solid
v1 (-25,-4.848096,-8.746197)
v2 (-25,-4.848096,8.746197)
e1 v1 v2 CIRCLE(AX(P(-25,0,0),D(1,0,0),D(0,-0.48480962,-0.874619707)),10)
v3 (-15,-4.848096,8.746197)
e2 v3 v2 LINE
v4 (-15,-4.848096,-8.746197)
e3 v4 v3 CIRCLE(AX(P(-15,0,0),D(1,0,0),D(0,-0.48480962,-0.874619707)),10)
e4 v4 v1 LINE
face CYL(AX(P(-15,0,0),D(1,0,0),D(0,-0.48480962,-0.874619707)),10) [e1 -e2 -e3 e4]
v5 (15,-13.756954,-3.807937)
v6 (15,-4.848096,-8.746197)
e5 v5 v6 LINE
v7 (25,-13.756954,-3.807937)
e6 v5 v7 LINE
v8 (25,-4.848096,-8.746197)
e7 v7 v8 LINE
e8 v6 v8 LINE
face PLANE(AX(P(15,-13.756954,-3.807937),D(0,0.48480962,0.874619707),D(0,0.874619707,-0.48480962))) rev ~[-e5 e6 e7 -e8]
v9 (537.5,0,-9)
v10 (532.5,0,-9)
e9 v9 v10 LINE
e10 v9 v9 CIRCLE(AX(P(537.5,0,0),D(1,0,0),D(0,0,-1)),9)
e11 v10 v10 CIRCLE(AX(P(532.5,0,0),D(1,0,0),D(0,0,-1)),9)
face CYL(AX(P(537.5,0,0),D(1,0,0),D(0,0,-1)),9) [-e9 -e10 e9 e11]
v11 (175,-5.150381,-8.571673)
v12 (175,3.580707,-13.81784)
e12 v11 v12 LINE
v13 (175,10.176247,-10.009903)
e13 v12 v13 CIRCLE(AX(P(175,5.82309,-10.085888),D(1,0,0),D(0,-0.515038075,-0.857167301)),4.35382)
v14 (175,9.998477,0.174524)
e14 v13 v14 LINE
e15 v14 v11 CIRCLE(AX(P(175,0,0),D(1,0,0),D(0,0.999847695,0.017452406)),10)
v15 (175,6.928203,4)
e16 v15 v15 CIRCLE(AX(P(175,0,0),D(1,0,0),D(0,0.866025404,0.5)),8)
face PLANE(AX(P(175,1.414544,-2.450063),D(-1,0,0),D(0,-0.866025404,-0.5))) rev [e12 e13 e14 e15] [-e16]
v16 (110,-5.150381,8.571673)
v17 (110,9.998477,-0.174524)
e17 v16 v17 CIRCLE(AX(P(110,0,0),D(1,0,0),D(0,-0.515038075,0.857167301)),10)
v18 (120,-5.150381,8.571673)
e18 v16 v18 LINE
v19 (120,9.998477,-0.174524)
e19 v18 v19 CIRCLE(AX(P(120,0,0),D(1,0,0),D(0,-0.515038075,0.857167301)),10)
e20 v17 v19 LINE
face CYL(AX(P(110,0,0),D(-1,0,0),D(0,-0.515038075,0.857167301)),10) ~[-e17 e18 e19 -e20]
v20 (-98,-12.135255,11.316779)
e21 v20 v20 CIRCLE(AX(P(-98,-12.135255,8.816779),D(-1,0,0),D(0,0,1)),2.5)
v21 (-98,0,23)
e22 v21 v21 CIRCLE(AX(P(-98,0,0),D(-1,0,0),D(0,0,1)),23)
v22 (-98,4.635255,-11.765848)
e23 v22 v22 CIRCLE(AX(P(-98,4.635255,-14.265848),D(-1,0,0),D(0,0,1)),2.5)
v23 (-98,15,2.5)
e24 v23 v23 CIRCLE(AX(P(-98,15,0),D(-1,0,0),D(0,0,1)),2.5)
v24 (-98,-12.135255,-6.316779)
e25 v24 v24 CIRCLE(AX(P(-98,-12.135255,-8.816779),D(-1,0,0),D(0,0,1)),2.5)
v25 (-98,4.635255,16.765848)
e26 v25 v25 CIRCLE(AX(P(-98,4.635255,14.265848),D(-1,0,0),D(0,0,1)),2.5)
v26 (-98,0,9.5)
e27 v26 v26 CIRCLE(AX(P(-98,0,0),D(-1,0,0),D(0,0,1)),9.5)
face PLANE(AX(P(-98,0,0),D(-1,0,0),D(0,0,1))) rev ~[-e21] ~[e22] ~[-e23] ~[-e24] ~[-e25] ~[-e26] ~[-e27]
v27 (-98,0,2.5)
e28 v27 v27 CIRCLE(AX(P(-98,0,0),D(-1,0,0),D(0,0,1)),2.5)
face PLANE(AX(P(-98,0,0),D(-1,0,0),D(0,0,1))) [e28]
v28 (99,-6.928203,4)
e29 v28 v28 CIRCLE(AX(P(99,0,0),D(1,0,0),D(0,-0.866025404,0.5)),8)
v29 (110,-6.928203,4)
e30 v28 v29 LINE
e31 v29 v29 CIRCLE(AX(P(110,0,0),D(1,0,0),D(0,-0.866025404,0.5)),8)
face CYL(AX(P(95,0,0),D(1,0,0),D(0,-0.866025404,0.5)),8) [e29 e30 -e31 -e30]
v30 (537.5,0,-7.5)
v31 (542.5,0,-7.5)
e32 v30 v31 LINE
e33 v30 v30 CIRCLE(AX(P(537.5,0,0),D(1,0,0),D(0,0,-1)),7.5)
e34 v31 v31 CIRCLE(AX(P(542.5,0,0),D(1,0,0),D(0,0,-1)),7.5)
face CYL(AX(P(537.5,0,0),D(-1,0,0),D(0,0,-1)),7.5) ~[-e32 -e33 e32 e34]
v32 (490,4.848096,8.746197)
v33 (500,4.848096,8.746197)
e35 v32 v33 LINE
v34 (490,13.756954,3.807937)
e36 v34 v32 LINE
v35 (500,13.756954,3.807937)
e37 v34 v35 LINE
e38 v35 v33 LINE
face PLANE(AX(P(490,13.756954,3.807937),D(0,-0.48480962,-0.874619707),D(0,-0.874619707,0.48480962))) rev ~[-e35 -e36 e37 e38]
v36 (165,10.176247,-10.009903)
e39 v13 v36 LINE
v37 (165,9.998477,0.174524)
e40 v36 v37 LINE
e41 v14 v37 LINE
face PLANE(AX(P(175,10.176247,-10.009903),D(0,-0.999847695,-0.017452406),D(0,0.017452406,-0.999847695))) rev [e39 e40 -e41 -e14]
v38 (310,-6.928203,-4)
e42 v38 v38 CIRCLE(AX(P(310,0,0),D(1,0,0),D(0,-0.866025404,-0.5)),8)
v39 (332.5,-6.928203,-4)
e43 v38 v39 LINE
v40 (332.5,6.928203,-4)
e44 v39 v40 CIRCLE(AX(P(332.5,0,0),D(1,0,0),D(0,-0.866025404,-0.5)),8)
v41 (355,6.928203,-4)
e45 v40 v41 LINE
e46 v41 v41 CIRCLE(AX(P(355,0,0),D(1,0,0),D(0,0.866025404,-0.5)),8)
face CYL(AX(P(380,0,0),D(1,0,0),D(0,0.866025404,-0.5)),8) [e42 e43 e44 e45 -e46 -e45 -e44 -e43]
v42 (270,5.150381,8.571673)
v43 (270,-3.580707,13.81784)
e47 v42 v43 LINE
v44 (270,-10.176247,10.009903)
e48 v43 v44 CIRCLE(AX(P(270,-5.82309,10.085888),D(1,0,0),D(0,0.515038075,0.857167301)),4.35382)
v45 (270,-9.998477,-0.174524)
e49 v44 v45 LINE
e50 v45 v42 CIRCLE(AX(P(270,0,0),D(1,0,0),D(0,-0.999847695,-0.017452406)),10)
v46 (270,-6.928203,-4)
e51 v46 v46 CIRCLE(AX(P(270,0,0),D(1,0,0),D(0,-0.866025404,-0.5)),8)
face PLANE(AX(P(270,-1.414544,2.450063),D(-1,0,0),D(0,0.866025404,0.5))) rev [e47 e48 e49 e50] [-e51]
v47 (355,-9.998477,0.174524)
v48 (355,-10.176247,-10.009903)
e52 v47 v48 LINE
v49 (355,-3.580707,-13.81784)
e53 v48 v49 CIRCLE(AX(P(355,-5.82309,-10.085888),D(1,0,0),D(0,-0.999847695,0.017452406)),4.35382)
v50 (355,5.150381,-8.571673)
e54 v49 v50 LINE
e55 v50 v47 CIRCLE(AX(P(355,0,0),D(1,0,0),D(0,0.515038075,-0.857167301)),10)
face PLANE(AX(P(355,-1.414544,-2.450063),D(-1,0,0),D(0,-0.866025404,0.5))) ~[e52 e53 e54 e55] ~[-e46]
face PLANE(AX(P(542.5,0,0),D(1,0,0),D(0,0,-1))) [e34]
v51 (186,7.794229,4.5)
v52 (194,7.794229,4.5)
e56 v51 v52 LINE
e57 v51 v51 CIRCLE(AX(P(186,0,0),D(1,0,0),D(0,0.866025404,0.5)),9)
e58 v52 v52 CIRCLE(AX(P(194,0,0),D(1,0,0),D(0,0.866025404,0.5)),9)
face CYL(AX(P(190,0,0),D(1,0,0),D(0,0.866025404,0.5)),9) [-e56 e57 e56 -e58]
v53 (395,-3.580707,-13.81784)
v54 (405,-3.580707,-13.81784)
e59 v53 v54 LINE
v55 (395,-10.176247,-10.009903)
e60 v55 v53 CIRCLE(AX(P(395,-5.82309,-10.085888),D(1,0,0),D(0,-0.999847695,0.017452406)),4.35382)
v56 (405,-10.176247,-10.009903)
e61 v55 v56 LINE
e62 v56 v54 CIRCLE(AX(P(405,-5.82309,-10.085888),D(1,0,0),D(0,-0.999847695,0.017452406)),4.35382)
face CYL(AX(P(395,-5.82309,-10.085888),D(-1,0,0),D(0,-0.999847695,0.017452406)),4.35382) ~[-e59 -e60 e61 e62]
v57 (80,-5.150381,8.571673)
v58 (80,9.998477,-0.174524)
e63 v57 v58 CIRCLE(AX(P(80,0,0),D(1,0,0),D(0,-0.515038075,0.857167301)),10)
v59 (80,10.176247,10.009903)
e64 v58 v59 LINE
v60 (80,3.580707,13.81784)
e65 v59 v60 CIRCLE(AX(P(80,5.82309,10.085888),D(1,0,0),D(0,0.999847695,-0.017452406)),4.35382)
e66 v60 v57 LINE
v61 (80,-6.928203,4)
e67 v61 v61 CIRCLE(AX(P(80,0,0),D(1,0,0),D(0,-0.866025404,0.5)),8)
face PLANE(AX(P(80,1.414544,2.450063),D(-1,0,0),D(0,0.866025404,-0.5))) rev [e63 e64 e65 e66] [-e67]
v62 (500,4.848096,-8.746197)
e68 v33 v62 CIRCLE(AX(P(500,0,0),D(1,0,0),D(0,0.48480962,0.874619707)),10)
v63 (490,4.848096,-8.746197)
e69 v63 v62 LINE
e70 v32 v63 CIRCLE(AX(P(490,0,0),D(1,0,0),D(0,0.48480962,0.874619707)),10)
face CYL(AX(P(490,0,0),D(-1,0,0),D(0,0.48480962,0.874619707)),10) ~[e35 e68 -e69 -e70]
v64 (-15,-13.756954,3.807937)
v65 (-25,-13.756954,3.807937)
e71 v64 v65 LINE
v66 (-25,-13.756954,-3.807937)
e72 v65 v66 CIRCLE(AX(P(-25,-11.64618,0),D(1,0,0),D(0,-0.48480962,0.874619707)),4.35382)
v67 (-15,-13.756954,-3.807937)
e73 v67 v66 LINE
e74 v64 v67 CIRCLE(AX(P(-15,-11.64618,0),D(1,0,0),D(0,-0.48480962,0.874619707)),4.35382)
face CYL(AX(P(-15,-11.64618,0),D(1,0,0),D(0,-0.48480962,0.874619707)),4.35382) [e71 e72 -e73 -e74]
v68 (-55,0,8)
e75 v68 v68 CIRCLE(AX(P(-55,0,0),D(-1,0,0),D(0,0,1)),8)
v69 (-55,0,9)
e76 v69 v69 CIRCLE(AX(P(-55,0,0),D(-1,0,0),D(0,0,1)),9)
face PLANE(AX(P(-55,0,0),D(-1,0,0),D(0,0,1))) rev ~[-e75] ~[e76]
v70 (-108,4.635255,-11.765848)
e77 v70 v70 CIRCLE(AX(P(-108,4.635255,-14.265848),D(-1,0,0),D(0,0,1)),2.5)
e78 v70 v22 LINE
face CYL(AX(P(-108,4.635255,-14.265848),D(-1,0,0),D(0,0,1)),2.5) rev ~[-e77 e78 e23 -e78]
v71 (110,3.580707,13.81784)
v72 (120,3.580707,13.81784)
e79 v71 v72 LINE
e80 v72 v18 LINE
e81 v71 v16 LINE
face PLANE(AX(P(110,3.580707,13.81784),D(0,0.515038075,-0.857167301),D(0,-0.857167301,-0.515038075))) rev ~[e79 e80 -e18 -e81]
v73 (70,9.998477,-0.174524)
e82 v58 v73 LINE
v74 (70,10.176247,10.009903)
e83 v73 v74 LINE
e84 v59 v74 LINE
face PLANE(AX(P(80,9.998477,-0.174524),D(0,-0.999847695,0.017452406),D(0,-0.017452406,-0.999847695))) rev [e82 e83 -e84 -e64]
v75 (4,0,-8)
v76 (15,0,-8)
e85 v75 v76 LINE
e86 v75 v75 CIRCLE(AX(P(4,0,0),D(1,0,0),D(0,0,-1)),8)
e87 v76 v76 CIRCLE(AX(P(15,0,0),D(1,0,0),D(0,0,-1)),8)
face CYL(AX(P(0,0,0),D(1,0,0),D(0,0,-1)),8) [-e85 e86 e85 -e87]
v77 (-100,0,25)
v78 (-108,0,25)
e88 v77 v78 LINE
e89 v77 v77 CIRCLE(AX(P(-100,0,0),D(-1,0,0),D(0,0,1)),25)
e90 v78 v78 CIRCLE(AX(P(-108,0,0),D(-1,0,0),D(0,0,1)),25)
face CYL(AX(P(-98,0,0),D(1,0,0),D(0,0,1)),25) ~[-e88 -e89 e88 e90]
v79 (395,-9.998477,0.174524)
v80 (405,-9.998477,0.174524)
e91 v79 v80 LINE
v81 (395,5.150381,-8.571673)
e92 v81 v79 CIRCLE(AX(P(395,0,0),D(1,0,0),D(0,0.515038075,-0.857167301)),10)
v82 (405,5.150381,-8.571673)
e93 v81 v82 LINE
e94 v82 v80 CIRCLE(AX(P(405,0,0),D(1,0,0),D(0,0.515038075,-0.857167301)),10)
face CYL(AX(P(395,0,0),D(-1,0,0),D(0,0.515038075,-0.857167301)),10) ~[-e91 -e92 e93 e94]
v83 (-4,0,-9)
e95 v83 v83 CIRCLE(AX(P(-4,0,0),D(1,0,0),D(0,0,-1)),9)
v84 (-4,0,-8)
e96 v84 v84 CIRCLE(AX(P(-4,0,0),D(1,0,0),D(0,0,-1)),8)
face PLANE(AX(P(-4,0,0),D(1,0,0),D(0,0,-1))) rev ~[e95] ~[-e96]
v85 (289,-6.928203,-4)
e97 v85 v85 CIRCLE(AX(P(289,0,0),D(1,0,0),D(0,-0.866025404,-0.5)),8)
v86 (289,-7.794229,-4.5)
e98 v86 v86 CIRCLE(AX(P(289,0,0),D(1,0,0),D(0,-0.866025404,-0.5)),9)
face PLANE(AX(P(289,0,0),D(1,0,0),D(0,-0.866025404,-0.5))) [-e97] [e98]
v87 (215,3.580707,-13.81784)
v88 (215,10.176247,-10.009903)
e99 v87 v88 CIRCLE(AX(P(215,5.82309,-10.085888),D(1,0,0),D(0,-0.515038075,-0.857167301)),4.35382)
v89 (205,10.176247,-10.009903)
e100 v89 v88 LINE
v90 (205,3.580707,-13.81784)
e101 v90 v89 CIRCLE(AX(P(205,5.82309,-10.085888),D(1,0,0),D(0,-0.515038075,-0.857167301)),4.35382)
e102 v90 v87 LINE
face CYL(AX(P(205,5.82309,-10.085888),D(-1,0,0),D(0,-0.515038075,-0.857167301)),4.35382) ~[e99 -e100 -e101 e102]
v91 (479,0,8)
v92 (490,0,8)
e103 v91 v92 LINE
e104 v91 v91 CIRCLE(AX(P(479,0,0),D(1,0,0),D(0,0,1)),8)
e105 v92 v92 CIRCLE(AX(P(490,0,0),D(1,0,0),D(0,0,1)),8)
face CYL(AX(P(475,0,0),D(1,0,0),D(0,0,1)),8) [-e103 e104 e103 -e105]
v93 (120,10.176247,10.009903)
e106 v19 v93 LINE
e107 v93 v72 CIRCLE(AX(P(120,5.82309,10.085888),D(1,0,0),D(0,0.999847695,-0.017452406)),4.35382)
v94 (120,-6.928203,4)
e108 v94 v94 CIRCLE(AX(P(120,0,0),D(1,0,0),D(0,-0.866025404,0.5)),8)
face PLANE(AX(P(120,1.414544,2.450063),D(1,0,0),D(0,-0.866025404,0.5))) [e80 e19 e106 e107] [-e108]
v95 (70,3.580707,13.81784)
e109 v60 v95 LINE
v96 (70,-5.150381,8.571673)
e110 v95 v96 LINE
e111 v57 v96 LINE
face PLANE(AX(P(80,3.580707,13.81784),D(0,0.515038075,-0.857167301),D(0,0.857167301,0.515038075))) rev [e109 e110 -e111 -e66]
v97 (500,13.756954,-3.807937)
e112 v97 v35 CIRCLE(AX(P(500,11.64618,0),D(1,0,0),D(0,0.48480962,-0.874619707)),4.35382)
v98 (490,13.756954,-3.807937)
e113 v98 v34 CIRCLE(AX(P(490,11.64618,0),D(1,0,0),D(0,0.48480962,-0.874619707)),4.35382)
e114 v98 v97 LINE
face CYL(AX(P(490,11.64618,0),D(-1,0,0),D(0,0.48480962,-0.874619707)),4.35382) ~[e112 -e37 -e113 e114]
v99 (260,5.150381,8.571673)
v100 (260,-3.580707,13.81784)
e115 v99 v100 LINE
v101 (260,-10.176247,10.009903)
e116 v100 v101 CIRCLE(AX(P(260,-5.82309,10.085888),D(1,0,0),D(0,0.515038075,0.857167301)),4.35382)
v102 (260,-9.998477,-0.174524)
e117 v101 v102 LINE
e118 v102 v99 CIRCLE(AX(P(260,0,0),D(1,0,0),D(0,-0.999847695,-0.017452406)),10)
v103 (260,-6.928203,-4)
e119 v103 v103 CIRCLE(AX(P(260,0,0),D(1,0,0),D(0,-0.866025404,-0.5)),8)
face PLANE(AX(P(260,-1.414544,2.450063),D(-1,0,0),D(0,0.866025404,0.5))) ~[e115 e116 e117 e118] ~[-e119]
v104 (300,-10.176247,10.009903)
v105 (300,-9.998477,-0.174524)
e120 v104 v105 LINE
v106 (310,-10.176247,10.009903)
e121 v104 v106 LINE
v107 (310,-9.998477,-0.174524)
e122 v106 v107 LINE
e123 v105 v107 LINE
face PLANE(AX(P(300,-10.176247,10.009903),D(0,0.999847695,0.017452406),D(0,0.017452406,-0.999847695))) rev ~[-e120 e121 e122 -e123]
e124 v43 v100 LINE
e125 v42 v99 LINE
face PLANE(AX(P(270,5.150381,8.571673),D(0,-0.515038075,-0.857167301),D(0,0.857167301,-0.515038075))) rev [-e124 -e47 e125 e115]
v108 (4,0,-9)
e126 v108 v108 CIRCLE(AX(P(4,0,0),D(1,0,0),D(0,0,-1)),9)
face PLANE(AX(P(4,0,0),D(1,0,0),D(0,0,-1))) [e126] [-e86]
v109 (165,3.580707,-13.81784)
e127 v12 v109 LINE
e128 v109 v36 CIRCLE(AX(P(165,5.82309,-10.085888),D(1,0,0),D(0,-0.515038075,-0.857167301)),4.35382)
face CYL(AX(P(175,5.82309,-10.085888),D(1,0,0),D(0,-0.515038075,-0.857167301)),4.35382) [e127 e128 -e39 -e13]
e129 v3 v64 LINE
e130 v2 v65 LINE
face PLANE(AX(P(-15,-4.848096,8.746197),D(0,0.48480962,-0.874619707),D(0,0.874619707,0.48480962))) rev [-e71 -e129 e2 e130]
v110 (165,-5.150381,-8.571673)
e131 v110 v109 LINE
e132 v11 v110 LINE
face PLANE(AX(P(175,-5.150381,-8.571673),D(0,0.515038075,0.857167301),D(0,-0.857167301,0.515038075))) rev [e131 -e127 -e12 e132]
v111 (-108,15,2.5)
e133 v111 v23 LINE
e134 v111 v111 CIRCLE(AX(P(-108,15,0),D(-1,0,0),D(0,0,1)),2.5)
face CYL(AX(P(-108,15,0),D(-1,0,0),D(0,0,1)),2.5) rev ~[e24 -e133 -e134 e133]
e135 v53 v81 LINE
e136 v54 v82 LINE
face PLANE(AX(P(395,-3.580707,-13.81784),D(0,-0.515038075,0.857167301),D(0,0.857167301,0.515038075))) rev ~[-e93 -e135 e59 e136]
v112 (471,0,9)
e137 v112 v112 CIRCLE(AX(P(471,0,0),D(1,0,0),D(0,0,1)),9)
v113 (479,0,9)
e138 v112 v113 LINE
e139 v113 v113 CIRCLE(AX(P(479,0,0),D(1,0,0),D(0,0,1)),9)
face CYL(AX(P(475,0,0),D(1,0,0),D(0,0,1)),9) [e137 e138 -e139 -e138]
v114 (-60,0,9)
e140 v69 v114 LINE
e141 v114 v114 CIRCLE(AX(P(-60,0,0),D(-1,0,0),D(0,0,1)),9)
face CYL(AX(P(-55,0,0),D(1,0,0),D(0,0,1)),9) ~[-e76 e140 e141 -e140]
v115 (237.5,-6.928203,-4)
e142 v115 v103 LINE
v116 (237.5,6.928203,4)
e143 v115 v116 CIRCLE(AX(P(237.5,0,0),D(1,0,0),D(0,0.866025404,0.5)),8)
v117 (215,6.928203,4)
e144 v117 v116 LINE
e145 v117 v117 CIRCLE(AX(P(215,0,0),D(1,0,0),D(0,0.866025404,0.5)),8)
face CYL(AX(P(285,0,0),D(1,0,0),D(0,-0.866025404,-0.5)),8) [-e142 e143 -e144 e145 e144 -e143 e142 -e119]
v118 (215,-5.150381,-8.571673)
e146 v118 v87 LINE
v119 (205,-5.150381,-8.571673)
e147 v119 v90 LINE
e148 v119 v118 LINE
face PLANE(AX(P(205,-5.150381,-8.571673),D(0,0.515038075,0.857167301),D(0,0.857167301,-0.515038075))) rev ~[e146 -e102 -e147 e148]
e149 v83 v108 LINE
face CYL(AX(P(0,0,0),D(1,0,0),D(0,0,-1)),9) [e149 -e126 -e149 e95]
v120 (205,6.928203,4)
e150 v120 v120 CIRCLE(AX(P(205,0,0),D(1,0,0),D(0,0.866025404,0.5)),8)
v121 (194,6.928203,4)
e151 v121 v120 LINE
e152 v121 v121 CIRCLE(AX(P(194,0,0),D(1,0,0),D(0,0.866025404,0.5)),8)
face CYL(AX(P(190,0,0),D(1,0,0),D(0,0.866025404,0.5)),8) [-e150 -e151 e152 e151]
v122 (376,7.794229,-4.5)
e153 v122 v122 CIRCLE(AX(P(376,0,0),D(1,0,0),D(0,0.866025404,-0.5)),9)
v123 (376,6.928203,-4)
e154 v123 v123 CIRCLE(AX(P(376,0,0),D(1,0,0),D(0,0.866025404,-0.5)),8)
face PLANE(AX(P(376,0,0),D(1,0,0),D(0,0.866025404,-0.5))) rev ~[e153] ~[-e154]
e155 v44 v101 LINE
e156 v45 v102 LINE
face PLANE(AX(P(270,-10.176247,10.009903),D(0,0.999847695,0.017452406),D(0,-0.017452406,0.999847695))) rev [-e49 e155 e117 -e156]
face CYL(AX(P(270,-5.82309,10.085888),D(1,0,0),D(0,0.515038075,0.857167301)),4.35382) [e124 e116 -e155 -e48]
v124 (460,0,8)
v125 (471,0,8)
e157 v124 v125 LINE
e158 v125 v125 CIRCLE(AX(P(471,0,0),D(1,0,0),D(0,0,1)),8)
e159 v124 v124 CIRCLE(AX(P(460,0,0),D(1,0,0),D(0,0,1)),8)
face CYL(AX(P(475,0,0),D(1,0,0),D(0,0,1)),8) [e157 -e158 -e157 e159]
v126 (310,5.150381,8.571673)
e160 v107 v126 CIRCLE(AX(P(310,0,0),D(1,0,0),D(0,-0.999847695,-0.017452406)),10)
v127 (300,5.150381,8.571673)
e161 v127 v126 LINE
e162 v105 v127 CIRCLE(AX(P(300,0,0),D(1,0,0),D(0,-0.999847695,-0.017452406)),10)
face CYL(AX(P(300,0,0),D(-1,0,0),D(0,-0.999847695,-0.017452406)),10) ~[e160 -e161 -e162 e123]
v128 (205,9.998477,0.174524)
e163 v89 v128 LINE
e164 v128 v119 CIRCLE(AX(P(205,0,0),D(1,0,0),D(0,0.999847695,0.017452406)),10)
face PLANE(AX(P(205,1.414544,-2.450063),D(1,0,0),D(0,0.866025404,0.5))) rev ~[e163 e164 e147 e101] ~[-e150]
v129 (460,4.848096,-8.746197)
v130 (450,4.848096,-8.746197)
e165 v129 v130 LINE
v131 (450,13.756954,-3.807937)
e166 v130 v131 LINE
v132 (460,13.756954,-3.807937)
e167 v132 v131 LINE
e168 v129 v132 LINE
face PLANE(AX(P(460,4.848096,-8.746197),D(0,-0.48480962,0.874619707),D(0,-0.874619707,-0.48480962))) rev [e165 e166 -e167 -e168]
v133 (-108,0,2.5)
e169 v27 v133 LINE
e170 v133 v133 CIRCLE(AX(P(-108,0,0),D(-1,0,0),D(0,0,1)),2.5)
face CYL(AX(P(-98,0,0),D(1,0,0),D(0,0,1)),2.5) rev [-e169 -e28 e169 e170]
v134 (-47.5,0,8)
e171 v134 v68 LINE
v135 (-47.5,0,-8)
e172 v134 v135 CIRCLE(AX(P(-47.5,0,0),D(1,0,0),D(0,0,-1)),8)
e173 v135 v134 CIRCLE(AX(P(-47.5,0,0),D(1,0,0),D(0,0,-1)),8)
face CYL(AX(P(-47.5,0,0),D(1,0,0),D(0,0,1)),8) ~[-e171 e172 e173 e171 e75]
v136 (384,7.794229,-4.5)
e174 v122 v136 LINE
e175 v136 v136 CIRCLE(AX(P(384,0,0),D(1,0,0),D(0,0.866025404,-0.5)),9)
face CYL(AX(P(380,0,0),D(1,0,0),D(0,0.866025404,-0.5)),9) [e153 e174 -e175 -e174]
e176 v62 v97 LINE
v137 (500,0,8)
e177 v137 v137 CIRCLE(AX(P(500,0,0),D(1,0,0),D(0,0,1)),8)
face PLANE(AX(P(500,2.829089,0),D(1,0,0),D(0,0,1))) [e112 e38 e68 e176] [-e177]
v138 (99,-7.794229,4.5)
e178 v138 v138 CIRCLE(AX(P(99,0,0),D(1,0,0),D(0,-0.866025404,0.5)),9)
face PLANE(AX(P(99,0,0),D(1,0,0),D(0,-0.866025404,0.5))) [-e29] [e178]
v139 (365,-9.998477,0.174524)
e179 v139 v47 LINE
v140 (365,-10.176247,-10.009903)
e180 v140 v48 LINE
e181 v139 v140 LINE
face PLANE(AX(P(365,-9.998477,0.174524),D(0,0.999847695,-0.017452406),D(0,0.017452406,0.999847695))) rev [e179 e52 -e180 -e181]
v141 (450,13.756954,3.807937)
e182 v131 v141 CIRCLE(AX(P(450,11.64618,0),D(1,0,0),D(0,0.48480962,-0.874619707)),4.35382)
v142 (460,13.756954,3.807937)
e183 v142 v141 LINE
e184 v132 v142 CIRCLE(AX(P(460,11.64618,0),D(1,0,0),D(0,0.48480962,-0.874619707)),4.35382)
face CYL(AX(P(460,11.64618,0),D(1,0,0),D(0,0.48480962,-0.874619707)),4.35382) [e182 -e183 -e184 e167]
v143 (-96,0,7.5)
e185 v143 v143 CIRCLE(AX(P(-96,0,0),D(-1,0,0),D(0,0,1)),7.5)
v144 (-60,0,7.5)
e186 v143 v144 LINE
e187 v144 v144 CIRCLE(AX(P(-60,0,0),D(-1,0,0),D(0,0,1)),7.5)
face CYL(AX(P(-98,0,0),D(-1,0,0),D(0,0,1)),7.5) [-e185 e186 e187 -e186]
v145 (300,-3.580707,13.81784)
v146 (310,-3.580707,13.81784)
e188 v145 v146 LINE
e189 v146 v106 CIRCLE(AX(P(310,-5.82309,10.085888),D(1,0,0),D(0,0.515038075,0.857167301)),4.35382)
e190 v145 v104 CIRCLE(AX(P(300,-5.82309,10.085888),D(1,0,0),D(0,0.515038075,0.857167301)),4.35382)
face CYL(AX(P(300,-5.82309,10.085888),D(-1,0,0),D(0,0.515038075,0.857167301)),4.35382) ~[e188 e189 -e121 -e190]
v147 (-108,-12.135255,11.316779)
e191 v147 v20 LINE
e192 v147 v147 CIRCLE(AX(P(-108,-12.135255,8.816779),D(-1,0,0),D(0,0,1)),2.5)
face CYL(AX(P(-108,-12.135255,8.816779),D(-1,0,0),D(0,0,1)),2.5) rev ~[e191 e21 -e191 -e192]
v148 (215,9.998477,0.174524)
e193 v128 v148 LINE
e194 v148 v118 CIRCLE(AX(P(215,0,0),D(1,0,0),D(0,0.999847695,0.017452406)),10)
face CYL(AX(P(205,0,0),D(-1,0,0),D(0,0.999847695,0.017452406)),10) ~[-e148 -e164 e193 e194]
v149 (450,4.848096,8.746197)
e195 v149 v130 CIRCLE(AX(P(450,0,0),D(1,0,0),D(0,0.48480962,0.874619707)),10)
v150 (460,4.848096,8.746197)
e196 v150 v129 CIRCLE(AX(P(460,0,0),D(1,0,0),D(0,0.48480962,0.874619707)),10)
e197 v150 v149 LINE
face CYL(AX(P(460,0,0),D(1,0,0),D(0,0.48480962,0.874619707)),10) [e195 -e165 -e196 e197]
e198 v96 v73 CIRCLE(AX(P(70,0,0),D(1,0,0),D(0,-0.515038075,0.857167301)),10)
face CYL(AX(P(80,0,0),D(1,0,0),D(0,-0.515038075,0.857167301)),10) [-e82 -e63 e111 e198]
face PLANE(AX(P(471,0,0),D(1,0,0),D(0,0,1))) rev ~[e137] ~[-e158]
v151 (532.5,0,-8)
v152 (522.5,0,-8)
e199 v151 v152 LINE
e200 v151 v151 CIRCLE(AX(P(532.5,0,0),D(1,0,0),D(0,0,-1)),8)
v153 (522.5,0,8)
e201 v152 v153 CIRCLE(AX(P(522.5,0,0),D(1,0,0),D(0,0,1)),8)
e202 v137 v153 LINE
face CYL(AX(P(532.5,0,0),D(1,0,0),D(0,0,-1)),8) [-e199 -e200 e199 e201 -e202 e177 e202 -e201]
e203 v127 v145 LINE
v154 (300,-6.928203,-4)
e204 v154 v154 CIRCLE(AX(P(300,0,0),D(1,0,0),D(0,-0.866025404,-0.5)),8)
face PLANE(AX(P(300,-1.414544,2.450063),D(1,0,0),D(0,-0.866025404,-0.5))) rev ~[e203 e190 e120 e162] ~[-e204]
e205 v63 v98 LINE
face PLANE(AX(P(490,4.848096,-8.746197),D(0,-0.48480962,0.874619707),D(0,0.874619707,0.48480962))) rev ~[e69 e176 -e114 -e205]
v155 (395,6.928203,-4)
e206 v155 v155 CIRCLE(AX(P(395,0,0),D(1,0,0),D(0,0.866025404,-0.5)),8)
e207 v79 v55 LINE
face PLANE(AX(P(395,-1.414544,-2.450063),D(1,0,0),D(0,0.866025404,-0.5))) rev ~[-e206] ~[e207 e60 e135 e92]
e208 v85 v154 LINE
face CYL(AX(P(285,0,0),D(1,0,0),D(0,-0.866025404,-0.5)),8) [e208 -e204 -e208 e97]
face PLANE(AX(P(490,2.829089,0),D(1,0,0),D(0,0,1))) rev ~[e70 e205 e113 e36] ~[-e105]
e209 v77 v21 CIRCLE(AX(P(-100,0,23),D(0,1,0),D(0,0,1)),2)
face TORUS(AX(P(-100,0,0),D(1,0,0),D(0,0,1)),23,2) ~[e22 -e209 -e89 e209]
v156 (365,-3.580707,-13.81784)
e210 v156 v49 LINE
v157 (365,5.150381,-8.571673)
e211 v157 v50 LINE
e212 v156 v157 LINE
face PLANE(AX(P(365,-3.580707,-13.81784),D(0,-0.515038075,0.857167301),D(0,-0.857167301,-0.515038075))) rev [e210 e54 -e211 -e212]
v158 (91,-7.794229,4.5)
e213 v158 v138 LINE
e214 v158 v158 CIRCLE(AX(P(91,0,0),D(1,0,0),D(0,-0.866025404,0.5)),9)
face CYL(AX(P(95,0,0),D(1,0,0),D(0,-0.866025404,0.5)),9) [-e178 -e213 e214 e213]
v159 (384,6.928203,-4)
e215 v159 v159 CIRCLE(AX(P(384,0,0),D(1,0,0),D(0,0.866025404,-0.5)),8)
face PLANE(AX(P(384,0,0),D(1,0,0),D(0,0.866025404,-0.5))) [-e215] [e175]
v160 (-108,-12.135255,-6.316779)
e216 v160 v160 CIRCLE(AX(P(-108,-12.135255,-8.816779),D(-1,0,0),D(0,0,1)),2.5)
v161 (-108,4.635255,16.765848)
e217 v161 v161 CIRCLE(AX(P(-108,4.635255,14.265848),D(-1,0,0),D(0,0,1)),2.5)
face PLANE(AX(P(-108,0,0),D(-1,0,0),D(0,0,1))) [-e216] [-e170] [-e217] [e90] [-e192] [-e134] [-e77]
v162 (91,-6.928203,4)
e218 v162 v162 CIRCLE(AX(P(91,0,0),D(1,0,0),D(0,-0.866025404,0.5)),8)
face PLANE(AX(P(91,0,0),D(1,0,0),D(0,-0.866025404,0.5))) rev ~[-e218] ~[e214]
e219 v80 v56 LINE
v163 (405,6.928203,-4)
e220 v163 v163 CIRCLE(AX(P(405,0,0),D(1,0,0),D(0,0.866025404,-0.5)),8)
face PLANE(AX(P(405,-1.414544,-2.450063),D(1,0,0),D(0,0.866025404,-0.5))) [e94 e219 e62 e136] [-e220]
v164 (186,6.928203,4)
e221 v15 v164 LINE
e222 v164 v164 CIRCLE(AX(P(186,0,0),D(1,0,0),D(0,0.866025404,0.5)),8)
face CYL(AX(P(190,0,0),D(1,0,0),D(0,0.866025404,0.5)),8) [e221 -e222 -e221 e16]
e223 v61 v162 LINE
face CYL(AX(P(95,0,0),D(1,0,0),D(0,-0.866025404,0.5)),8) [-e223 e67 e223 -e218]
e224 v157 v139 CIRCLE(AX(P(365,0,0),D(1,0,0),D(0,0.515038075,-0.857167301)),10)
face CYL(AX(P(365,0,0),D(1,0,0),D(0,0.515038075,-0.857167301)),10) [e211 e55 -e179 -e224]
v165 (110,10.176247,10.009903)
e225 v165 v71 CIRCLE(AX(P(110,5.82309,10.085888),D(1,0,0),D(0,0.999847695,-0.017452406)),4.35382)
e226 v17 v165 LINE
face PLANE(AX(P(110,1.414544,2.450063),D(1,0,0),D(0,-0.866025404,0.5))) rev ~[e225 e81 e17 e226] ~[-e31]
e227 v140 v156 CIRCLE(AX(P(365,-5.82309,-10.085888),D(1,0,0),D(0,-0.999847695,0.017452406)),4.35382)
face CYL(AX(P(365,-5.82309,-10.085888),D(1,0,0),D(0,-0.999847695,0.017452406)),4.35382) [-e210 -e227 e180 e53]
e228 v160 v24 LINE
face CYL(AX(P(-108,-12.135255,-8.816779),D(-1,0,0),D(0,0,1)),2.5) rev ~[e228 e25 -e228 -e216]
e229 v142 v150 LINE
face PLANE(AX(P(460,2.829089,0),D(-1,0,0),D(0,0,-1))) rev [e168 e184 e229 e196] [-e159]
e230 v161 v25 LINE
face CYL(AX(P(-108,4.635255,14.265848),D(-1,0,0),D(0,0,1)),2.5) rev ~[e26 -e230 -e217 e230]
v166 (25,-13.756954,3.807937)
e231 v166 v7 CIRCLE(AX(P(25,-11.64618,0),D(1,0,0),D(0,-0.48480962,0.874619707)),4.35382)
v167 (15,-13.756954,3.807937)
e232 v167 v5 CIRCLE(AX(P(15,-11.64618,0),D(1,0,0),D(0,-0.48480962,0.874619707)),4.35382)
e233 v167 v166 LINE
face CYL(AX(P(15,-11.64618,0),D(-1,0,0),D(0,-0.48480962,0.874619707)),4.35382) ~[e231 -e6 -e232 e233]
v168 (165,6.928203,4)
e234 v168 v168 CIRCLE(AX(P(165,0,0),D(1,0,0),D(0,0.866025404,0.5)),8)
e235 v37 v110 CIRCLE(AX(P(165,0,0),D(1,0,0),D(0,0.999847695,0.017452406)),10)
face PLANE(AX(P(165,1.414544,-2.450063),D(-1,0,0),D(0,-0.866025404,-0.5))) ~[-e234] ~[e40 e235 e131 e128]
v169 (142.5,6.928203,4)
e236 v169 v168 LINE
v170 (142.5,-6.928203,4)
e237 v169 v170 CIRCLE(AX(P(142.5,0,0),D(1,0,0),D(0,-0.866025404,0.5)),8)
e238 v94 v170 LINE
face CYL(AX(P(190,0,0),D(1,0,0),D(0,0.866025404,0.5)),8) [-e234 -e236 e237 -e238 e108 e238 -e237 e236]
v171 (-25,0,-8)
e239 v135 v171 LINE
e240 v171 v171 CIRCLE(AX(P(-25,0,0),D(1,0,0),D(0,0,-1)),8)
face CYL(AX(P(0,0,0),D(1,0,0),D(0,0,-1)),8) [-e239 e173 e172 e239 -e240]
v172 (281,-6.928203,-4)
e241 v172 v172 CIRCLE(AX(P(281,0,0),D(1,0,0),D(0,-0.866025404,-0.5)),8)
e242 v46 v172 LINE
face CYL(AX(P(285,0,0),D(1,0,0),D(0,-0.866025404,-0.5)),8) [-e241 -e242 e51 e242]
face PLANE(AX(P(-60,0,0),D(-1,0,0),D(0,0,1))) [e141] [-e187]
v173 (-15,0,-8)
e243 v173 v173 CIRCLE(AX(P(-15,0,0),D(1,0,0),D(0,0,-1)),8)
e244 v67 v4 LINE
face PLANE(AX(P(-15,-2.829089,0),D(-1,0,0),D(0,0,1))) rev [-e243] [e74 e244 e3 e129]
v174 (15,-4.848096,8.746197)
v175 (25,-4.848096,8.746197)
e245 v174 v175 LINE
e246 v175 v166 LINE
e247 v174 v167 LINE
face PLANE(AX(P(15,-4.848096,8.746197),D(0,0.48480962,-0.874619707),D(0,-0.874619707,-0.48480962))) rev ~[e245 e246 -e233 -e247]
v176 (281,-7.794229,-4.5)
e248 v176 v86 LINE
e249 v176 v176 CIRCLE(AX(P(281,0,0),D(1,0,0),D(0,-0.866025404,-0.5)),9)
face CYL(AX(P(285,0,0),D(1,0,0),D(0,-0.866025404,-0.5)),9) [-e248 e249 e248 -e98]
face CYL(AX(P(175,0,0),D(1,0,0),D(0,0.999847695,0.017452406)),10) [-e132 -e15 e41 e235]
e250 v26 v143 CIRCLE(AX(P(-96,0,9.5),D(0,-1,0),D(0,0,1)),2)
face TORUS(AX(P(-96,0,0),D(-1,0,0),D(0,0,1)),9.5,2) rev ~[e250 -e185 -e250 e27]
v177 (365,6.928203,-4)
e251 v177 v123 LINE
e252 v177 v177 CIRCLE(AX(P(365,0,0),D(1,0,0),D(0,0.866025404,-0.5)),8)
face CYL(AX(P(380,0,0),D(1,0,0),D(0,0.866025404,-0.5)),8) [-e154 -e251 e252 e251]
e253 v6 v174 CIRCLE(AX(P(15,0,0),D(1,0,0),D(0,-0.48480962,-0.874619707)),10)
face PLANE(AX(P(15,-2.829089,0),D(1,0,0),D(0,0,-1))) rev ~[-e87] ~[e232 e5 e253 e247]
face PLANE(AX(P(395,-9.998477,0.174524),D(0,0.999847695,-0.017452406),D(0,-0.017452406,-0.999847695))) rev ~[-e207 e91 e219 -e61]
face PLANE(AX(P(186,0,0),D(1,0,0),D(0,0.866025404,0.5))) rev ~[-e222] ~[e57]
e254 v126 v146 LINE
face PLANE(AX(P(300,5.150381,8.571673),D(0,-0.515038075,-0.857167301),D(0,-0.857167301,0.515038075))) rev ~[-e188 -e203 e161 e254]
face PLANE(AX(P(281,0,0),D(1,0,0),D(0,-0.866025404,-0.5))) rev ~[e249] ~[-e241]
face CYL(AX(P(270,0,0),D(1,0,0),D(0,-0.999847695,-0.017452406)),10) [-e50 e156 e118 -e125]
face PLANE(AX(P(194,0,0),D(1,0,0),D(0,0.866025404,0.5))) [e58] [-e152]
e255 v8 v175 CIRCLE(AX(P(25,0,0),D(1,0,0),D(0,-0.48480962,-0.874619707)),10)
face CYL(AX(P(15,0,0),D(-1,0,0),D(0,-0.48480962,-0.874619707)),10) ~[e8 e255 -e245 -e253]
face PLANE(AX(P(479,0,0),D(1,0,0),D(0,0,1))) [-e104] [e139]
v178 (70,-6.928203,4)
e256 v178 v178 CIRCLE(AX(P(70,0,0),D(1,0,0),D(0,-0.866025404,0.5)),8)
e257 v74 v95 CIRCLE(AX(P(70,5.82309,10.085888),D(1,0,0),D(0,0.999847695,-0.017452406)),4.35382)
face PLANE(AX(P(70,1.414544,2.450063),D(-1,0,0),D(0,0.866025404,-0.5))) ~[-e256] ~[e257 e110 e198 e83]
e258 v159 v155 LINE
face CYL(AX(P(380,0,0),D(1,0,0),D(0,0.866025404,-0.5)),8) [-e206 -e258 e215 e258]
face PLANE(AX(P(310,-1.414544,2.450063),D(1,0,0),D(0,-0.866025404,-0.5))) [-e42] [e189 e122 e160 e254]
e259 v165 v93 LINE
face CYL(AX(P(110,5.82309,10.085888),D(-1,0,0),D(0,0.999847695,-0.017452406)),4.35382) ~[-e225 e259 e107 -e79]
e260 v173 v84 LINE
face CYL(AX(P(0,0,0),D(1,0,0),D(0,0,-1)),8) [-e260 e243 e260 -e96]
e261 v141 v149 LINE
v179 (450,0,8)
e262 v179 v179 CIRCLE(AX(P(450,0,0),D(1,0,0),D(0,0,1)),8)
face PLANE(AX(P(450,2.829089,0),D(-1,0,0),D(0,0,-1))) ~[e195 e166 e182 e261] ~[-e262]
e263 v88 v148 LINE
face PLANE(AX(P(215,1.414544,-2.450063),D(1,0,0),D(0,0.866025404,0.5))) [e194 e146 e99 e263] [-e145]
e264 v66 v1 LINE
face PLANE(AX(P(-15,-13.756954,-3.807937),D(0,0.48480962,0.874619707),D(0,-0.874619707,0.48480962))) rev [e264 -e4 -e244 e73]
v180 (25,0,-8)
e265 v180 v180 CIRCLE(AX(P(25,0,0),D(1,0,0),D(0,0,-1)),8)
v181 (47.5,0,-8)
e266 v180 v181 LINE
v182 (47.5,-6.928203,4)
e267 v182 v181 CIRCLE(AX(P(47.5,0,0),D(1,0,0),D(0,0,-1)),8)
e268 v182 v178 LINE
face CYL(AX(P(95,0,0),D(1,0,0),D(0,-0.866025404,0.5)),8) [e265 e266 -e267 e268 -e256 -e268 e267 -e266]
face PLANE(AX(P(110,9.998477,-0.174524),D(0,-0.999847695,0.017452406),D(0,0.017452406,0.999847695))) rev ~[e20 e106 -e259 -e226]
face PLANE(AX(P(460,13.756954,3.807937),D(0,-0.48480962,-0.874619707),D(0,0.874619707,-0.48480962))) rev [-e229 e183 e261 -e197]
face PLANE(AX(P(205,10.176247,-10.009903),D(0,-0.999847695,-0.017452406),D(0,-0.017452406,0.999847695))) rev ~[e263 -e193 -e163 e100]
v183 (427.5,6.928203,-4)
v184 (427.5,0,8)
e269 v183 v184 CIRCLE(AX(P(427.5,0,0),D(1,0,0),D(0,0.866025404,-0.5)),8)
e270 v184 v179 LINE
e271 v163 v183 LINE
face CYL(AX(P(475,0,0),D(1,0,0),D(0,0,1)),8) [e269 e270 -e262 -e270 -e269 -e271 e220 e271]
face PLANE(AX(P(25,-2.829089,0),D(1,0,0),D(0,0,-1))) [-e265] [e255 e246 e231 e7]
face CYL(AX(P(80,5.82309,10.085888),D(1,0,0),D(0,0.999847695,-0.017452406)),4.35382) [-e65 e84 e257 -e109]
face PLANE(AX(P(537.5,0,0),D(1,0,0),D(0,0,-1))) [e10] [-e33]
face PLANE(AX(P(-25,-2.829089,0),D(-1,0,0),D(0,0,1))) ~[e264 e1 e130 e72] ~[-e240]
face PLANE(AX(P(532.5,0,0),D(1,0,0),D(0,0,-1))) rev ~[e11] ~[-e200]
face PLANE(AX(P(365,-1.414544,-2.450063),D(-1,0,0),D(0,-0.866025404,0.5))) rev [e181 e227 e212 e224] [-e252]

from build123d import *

# Parameters (mm, degrees)
SKETCH1_R             = 8
BOSS_EXTRUDE1_DEPTH   = 47.5
BOSS_EXTRUDE2_START   = 15
BOSS_EXTRUDE2_DEPTH   = 10
SKETCH3_R             = 9
BOSS_EXTRUDE3_DEPTH   = 4
LPATTERN1_COUNT       = 6
LPATTERN1_PITCH       = 95
BODY_MOVE_COPY1_ANGLE = 60
BODY_MOVE_COPY2_ANGLE = 120
BODY_MOVE_COPY3_ANGLE = 60
BODY_MOVE_COPY4_ANGLE = 120
BODY_MOVE_COPY5_ANGLE = 180
BOSS_EXTRUDE4_START   = 10
SKETCH4_R             = 8
BOSS_EXTRUDE4_DEPTH   = 10
BOSS_EXTRUDE5_START   = 5
SKETCH5_R             = 9
BOSS_EXTRUDE5_DEPTH   = 5
SKETCH6_R             = 7.5
BOSS_EXTRUDE6_DEPTH   = 5
SKETCH7_R             = 8
BOSS_EXTRUDE7_DEPTH   = 7.5
SKETCH8_R             = 9
BOSS_EXTRUDE8_DEPTH   = 5
BOSS_EXTRUDE9_START   = 38
SKETCH9_R             = 7.5
BOSS_EXTRUDE9_DEPTH   = 38
SKETCH10_R            = 25
SKETCH10_R_2          = 2.5
BOSS_EXTRUDE10_DEPTH  = 10
FILLET1_R             = 2
SKETCH11_R            = 2.5
CUT_EXTRUDE1_DEPTH    = 10


with BuildPart() as part:
    # Sketch1 → Boss-Extrude1 (new, symmetric)
    with BuildSketch(Plane(origin=(0, 0, 0), x_dir=(0, 0, -1), z_dir=(1, 0, 0))):
        Circle(SKETCH1_R)
    extrude(amount=BOSS_EXTRUDE1_DEPTH, both=True)

    # Sketch2 → Boss-Extrude2 (add)
    with BuildSketch(Plane(origin=(0, 0, 0), x_dir=(0, 0, -1), z_dir=(1, 0, 0)).offset(BOSS_EXTRUDE2_START)):
        with BuildLine():
            Line((-8.746197071, -4.848096202), (-3.807936598, -13.756953924))
            ThreePointArc((-3.807936598, -13.756953924), (0, -16), (3.807936598, -13.756953924))
            Line((3.807936598, -13.756953924), (8.746197071, -4.848096202))
            ThreePointArc((8.746197071, -4.848096202), (0, 10), (-8.746197071, -4.848096202))
        make_face()
    boss_extrude2 = extrude(amount=BOSS_EXTRUDE2_DEPTH)

    # Mirror1: Boss-Extrude2 across plane
    add(boss_extrude2.mirror(Plane(origin=(0, 0, 0), x_dir=(0, 0, 1), z_dir=(1, 0, 0))))

    # Sketch3 → Boss-Extrude3 (add, symmetric)
    with BuildSketch(Plane(origin=(0, 0, 0), x_dir=(0, 0, -1), z_dir=(1, 0, 0))):
        Circle(SKETCH3_R)
    extrude(amount=BOSS_EXTRUDE3_DEPTH, both=True)


with BuildPart() as lpattern1_1:
    # LPattern1: pattern copy
    add(part.part.moved(Location(Vector(1, 0, 0) * (1 * LPATTERN1_PITCH))))


with BuildPart() as lpattern1_2:
    # LPattern1: pattern copy
    add(part.part.moved(Location(Vector(1, 0, 0) * (2 * LPATTERN1_PITCH))))


with BuildPart() as lpattern1_3:
    # LPattern1: pattern copy
    add(part.part.moved(Location(Vector(1, 0, 0) * (3 * LPATTERN1_PITCH))))


with BuildPart() as lpattern1_4:
    # LPattern1: pattern copy
    add(part.part.moved(Location(Vector(1, 0, 0) * (4 * LPATTERN1_PITCH))))


with BuildPart() as lpattern1_5:
    # LPattern1: pattern copy
    add(part.part.moved(Location(Vector(1, 0, 0) * (5 * LPATTERN1_PITCH))))


with BuildPart() as lpattern1_3_1:
    # Body-Move/Copy1: moved
    add(lpattern1_3.part.rotate(Axis((0, 0, 0), (-1, 0, 0)), BODY_MOVE_COPY1_ANGLE))


with BuildPart() as lpattern1_1_1:
    # Body-Move/Copy2: moved
    add(lpattern1_1.part.rotate(Axis((0, 0, 0), (-1, 0, 0)), BODY_MOVE_COPY2_ANGLE))


with BuildPart() as lpattern1_4_1:
    # Body-Move/Copy3: moved
    add(lpattern1_4.part.rotate(Axis((0, 0, 0), (1, 0, 0)), BODY_MOVE_COPY3_ANGLE))


with BuildPart() as lpattern1_2_1:
    # Body-Move/Copy4: moved
    add(lpattern1_2.part.rotate(Axis((0, 0, 0), (1, 0, 0)), BODY_MOVE_COPY4_ANGLE))


with BuildPart() as lpattern1_5_1:
    # Body-Move/Copy5: moved
    add(lpattern1_5.part.rotate(Axis((0, 0, 0), (1, 0, 0)), BODY_MOVE_COPY5_ANGLE))

    # Sketch4 → Boss-Extrude4 (add)
    with BuildSketch(Plane(origin=(522.5, 0, 0), x_dir=(0, 0, -1), z_dir=(1, 0, 0)).offset(BOSS_EXTRUDE4_START)):
        Circle(SKETCH4_R)
    extrude(amount=-BOSS_EXTRUDE4_DEPTH)

    # Sketch5 → Boss-Extrude5 (add)
    with BuildSketch(Plane(origin=(532.5, 0, 0), x_dir=(0, 0, -1), z_dir=(1, 0, 0)).offset(BOSS_EXTRUDE5_START)):
        Circle(SKETCH5_R)
    extrude(amount=-BOSS_EXTRUDE5_DEPTH)


with BuildPart() as part_1:
    add(part.part)

    # Combine1: union LPattern1_1, LPattern1_2, LPattern1_3, LPattern1_4, LPattern1_5
    add(lpattern1_1_1.part)
    add(lpattern1_2_1.part)
    add(lpattern1_3_1.part)
    add(lpattern1_4_1.part)
    add(lpattern1_5_1.part)

    # Sketch6 → Boss-Extrude6 (add)
    with BuildSketch(Plane(origin=(537.5, 0, 0), x_dir=(0, 0, -1), z_dir=(1, 0, 0))):
        Circle(SKETCH6_R)
    extrude(amount=BOSS_EXTRUDE6_DEPTH)

    # Sketch7 → Boss-Extrude7 (add)
    with BuildSketch(Plane.ZY.offset(47.5)):
        Circle(SKETCH7_R)
    extrude(amount=BOSS_EXTRUDE7_DEPTH)

    # Sketch8 → Boss-Extrude8 (add)
    with BuildSketch(Plane.ZY.offset(55)):
        Circle(SKETCH8_R)
    extrude(amount=BOSS_EXTRUDE8_DEPTH)

    # Sketch9 → Boss-Extrude9 (add)
    with BuildSketch(Plane.ZY.offset(60).offset(BOSS_EXTRUDE9_START)):
        Circle(SKETCH9_R)
    extrude(amount=-BOSS_EXTRUDE9_DEPTH)

    # Sketch10 → Boss-Extrude10 (add)
    with BuildSketch(Plane.ZY.offset(98)):
        Circle(SKETCH10_R)
        Circle(SKETCH10_R_2, mode=Mode.SUBTRACT)
    extrude(amount=BOSS_EXTRUDE10_DEPTH)

    # Fillet1
    fillet1_edges = [part_1.edges().sort_by_distance(p)[0] for p in [
        (-98, 0, -25),
        (-98, 0, -7.5),
    ]]
    fillet(fillet1_edges, radius=FILLET1_R)

    # Sketch11 → Cut-Extrude1 (cut)
    with BuildSketch(Plane.ZY.offset(108)):
        with Locations((0, 15)):
            Circle(SKETCH11_R)
        with Locations((-14.265847744, 4.635254916)):
            Circle(SKETCH11_R)
        with Locations((-8.816778784, -12.135254916)):
            Circle(SKETCH11_R)
        with Locations((8.816778784, -12.135254916)):
            Circle(SKETCH11_R)
        with Locations((14.265847744, 4.635254916)):
            Circle(SKETCH11_R)
    extrude(amount=-CUT_EXTRUDE1_DEPTH, mode=Mode.SUBTRACT)


solid = part_1.part
